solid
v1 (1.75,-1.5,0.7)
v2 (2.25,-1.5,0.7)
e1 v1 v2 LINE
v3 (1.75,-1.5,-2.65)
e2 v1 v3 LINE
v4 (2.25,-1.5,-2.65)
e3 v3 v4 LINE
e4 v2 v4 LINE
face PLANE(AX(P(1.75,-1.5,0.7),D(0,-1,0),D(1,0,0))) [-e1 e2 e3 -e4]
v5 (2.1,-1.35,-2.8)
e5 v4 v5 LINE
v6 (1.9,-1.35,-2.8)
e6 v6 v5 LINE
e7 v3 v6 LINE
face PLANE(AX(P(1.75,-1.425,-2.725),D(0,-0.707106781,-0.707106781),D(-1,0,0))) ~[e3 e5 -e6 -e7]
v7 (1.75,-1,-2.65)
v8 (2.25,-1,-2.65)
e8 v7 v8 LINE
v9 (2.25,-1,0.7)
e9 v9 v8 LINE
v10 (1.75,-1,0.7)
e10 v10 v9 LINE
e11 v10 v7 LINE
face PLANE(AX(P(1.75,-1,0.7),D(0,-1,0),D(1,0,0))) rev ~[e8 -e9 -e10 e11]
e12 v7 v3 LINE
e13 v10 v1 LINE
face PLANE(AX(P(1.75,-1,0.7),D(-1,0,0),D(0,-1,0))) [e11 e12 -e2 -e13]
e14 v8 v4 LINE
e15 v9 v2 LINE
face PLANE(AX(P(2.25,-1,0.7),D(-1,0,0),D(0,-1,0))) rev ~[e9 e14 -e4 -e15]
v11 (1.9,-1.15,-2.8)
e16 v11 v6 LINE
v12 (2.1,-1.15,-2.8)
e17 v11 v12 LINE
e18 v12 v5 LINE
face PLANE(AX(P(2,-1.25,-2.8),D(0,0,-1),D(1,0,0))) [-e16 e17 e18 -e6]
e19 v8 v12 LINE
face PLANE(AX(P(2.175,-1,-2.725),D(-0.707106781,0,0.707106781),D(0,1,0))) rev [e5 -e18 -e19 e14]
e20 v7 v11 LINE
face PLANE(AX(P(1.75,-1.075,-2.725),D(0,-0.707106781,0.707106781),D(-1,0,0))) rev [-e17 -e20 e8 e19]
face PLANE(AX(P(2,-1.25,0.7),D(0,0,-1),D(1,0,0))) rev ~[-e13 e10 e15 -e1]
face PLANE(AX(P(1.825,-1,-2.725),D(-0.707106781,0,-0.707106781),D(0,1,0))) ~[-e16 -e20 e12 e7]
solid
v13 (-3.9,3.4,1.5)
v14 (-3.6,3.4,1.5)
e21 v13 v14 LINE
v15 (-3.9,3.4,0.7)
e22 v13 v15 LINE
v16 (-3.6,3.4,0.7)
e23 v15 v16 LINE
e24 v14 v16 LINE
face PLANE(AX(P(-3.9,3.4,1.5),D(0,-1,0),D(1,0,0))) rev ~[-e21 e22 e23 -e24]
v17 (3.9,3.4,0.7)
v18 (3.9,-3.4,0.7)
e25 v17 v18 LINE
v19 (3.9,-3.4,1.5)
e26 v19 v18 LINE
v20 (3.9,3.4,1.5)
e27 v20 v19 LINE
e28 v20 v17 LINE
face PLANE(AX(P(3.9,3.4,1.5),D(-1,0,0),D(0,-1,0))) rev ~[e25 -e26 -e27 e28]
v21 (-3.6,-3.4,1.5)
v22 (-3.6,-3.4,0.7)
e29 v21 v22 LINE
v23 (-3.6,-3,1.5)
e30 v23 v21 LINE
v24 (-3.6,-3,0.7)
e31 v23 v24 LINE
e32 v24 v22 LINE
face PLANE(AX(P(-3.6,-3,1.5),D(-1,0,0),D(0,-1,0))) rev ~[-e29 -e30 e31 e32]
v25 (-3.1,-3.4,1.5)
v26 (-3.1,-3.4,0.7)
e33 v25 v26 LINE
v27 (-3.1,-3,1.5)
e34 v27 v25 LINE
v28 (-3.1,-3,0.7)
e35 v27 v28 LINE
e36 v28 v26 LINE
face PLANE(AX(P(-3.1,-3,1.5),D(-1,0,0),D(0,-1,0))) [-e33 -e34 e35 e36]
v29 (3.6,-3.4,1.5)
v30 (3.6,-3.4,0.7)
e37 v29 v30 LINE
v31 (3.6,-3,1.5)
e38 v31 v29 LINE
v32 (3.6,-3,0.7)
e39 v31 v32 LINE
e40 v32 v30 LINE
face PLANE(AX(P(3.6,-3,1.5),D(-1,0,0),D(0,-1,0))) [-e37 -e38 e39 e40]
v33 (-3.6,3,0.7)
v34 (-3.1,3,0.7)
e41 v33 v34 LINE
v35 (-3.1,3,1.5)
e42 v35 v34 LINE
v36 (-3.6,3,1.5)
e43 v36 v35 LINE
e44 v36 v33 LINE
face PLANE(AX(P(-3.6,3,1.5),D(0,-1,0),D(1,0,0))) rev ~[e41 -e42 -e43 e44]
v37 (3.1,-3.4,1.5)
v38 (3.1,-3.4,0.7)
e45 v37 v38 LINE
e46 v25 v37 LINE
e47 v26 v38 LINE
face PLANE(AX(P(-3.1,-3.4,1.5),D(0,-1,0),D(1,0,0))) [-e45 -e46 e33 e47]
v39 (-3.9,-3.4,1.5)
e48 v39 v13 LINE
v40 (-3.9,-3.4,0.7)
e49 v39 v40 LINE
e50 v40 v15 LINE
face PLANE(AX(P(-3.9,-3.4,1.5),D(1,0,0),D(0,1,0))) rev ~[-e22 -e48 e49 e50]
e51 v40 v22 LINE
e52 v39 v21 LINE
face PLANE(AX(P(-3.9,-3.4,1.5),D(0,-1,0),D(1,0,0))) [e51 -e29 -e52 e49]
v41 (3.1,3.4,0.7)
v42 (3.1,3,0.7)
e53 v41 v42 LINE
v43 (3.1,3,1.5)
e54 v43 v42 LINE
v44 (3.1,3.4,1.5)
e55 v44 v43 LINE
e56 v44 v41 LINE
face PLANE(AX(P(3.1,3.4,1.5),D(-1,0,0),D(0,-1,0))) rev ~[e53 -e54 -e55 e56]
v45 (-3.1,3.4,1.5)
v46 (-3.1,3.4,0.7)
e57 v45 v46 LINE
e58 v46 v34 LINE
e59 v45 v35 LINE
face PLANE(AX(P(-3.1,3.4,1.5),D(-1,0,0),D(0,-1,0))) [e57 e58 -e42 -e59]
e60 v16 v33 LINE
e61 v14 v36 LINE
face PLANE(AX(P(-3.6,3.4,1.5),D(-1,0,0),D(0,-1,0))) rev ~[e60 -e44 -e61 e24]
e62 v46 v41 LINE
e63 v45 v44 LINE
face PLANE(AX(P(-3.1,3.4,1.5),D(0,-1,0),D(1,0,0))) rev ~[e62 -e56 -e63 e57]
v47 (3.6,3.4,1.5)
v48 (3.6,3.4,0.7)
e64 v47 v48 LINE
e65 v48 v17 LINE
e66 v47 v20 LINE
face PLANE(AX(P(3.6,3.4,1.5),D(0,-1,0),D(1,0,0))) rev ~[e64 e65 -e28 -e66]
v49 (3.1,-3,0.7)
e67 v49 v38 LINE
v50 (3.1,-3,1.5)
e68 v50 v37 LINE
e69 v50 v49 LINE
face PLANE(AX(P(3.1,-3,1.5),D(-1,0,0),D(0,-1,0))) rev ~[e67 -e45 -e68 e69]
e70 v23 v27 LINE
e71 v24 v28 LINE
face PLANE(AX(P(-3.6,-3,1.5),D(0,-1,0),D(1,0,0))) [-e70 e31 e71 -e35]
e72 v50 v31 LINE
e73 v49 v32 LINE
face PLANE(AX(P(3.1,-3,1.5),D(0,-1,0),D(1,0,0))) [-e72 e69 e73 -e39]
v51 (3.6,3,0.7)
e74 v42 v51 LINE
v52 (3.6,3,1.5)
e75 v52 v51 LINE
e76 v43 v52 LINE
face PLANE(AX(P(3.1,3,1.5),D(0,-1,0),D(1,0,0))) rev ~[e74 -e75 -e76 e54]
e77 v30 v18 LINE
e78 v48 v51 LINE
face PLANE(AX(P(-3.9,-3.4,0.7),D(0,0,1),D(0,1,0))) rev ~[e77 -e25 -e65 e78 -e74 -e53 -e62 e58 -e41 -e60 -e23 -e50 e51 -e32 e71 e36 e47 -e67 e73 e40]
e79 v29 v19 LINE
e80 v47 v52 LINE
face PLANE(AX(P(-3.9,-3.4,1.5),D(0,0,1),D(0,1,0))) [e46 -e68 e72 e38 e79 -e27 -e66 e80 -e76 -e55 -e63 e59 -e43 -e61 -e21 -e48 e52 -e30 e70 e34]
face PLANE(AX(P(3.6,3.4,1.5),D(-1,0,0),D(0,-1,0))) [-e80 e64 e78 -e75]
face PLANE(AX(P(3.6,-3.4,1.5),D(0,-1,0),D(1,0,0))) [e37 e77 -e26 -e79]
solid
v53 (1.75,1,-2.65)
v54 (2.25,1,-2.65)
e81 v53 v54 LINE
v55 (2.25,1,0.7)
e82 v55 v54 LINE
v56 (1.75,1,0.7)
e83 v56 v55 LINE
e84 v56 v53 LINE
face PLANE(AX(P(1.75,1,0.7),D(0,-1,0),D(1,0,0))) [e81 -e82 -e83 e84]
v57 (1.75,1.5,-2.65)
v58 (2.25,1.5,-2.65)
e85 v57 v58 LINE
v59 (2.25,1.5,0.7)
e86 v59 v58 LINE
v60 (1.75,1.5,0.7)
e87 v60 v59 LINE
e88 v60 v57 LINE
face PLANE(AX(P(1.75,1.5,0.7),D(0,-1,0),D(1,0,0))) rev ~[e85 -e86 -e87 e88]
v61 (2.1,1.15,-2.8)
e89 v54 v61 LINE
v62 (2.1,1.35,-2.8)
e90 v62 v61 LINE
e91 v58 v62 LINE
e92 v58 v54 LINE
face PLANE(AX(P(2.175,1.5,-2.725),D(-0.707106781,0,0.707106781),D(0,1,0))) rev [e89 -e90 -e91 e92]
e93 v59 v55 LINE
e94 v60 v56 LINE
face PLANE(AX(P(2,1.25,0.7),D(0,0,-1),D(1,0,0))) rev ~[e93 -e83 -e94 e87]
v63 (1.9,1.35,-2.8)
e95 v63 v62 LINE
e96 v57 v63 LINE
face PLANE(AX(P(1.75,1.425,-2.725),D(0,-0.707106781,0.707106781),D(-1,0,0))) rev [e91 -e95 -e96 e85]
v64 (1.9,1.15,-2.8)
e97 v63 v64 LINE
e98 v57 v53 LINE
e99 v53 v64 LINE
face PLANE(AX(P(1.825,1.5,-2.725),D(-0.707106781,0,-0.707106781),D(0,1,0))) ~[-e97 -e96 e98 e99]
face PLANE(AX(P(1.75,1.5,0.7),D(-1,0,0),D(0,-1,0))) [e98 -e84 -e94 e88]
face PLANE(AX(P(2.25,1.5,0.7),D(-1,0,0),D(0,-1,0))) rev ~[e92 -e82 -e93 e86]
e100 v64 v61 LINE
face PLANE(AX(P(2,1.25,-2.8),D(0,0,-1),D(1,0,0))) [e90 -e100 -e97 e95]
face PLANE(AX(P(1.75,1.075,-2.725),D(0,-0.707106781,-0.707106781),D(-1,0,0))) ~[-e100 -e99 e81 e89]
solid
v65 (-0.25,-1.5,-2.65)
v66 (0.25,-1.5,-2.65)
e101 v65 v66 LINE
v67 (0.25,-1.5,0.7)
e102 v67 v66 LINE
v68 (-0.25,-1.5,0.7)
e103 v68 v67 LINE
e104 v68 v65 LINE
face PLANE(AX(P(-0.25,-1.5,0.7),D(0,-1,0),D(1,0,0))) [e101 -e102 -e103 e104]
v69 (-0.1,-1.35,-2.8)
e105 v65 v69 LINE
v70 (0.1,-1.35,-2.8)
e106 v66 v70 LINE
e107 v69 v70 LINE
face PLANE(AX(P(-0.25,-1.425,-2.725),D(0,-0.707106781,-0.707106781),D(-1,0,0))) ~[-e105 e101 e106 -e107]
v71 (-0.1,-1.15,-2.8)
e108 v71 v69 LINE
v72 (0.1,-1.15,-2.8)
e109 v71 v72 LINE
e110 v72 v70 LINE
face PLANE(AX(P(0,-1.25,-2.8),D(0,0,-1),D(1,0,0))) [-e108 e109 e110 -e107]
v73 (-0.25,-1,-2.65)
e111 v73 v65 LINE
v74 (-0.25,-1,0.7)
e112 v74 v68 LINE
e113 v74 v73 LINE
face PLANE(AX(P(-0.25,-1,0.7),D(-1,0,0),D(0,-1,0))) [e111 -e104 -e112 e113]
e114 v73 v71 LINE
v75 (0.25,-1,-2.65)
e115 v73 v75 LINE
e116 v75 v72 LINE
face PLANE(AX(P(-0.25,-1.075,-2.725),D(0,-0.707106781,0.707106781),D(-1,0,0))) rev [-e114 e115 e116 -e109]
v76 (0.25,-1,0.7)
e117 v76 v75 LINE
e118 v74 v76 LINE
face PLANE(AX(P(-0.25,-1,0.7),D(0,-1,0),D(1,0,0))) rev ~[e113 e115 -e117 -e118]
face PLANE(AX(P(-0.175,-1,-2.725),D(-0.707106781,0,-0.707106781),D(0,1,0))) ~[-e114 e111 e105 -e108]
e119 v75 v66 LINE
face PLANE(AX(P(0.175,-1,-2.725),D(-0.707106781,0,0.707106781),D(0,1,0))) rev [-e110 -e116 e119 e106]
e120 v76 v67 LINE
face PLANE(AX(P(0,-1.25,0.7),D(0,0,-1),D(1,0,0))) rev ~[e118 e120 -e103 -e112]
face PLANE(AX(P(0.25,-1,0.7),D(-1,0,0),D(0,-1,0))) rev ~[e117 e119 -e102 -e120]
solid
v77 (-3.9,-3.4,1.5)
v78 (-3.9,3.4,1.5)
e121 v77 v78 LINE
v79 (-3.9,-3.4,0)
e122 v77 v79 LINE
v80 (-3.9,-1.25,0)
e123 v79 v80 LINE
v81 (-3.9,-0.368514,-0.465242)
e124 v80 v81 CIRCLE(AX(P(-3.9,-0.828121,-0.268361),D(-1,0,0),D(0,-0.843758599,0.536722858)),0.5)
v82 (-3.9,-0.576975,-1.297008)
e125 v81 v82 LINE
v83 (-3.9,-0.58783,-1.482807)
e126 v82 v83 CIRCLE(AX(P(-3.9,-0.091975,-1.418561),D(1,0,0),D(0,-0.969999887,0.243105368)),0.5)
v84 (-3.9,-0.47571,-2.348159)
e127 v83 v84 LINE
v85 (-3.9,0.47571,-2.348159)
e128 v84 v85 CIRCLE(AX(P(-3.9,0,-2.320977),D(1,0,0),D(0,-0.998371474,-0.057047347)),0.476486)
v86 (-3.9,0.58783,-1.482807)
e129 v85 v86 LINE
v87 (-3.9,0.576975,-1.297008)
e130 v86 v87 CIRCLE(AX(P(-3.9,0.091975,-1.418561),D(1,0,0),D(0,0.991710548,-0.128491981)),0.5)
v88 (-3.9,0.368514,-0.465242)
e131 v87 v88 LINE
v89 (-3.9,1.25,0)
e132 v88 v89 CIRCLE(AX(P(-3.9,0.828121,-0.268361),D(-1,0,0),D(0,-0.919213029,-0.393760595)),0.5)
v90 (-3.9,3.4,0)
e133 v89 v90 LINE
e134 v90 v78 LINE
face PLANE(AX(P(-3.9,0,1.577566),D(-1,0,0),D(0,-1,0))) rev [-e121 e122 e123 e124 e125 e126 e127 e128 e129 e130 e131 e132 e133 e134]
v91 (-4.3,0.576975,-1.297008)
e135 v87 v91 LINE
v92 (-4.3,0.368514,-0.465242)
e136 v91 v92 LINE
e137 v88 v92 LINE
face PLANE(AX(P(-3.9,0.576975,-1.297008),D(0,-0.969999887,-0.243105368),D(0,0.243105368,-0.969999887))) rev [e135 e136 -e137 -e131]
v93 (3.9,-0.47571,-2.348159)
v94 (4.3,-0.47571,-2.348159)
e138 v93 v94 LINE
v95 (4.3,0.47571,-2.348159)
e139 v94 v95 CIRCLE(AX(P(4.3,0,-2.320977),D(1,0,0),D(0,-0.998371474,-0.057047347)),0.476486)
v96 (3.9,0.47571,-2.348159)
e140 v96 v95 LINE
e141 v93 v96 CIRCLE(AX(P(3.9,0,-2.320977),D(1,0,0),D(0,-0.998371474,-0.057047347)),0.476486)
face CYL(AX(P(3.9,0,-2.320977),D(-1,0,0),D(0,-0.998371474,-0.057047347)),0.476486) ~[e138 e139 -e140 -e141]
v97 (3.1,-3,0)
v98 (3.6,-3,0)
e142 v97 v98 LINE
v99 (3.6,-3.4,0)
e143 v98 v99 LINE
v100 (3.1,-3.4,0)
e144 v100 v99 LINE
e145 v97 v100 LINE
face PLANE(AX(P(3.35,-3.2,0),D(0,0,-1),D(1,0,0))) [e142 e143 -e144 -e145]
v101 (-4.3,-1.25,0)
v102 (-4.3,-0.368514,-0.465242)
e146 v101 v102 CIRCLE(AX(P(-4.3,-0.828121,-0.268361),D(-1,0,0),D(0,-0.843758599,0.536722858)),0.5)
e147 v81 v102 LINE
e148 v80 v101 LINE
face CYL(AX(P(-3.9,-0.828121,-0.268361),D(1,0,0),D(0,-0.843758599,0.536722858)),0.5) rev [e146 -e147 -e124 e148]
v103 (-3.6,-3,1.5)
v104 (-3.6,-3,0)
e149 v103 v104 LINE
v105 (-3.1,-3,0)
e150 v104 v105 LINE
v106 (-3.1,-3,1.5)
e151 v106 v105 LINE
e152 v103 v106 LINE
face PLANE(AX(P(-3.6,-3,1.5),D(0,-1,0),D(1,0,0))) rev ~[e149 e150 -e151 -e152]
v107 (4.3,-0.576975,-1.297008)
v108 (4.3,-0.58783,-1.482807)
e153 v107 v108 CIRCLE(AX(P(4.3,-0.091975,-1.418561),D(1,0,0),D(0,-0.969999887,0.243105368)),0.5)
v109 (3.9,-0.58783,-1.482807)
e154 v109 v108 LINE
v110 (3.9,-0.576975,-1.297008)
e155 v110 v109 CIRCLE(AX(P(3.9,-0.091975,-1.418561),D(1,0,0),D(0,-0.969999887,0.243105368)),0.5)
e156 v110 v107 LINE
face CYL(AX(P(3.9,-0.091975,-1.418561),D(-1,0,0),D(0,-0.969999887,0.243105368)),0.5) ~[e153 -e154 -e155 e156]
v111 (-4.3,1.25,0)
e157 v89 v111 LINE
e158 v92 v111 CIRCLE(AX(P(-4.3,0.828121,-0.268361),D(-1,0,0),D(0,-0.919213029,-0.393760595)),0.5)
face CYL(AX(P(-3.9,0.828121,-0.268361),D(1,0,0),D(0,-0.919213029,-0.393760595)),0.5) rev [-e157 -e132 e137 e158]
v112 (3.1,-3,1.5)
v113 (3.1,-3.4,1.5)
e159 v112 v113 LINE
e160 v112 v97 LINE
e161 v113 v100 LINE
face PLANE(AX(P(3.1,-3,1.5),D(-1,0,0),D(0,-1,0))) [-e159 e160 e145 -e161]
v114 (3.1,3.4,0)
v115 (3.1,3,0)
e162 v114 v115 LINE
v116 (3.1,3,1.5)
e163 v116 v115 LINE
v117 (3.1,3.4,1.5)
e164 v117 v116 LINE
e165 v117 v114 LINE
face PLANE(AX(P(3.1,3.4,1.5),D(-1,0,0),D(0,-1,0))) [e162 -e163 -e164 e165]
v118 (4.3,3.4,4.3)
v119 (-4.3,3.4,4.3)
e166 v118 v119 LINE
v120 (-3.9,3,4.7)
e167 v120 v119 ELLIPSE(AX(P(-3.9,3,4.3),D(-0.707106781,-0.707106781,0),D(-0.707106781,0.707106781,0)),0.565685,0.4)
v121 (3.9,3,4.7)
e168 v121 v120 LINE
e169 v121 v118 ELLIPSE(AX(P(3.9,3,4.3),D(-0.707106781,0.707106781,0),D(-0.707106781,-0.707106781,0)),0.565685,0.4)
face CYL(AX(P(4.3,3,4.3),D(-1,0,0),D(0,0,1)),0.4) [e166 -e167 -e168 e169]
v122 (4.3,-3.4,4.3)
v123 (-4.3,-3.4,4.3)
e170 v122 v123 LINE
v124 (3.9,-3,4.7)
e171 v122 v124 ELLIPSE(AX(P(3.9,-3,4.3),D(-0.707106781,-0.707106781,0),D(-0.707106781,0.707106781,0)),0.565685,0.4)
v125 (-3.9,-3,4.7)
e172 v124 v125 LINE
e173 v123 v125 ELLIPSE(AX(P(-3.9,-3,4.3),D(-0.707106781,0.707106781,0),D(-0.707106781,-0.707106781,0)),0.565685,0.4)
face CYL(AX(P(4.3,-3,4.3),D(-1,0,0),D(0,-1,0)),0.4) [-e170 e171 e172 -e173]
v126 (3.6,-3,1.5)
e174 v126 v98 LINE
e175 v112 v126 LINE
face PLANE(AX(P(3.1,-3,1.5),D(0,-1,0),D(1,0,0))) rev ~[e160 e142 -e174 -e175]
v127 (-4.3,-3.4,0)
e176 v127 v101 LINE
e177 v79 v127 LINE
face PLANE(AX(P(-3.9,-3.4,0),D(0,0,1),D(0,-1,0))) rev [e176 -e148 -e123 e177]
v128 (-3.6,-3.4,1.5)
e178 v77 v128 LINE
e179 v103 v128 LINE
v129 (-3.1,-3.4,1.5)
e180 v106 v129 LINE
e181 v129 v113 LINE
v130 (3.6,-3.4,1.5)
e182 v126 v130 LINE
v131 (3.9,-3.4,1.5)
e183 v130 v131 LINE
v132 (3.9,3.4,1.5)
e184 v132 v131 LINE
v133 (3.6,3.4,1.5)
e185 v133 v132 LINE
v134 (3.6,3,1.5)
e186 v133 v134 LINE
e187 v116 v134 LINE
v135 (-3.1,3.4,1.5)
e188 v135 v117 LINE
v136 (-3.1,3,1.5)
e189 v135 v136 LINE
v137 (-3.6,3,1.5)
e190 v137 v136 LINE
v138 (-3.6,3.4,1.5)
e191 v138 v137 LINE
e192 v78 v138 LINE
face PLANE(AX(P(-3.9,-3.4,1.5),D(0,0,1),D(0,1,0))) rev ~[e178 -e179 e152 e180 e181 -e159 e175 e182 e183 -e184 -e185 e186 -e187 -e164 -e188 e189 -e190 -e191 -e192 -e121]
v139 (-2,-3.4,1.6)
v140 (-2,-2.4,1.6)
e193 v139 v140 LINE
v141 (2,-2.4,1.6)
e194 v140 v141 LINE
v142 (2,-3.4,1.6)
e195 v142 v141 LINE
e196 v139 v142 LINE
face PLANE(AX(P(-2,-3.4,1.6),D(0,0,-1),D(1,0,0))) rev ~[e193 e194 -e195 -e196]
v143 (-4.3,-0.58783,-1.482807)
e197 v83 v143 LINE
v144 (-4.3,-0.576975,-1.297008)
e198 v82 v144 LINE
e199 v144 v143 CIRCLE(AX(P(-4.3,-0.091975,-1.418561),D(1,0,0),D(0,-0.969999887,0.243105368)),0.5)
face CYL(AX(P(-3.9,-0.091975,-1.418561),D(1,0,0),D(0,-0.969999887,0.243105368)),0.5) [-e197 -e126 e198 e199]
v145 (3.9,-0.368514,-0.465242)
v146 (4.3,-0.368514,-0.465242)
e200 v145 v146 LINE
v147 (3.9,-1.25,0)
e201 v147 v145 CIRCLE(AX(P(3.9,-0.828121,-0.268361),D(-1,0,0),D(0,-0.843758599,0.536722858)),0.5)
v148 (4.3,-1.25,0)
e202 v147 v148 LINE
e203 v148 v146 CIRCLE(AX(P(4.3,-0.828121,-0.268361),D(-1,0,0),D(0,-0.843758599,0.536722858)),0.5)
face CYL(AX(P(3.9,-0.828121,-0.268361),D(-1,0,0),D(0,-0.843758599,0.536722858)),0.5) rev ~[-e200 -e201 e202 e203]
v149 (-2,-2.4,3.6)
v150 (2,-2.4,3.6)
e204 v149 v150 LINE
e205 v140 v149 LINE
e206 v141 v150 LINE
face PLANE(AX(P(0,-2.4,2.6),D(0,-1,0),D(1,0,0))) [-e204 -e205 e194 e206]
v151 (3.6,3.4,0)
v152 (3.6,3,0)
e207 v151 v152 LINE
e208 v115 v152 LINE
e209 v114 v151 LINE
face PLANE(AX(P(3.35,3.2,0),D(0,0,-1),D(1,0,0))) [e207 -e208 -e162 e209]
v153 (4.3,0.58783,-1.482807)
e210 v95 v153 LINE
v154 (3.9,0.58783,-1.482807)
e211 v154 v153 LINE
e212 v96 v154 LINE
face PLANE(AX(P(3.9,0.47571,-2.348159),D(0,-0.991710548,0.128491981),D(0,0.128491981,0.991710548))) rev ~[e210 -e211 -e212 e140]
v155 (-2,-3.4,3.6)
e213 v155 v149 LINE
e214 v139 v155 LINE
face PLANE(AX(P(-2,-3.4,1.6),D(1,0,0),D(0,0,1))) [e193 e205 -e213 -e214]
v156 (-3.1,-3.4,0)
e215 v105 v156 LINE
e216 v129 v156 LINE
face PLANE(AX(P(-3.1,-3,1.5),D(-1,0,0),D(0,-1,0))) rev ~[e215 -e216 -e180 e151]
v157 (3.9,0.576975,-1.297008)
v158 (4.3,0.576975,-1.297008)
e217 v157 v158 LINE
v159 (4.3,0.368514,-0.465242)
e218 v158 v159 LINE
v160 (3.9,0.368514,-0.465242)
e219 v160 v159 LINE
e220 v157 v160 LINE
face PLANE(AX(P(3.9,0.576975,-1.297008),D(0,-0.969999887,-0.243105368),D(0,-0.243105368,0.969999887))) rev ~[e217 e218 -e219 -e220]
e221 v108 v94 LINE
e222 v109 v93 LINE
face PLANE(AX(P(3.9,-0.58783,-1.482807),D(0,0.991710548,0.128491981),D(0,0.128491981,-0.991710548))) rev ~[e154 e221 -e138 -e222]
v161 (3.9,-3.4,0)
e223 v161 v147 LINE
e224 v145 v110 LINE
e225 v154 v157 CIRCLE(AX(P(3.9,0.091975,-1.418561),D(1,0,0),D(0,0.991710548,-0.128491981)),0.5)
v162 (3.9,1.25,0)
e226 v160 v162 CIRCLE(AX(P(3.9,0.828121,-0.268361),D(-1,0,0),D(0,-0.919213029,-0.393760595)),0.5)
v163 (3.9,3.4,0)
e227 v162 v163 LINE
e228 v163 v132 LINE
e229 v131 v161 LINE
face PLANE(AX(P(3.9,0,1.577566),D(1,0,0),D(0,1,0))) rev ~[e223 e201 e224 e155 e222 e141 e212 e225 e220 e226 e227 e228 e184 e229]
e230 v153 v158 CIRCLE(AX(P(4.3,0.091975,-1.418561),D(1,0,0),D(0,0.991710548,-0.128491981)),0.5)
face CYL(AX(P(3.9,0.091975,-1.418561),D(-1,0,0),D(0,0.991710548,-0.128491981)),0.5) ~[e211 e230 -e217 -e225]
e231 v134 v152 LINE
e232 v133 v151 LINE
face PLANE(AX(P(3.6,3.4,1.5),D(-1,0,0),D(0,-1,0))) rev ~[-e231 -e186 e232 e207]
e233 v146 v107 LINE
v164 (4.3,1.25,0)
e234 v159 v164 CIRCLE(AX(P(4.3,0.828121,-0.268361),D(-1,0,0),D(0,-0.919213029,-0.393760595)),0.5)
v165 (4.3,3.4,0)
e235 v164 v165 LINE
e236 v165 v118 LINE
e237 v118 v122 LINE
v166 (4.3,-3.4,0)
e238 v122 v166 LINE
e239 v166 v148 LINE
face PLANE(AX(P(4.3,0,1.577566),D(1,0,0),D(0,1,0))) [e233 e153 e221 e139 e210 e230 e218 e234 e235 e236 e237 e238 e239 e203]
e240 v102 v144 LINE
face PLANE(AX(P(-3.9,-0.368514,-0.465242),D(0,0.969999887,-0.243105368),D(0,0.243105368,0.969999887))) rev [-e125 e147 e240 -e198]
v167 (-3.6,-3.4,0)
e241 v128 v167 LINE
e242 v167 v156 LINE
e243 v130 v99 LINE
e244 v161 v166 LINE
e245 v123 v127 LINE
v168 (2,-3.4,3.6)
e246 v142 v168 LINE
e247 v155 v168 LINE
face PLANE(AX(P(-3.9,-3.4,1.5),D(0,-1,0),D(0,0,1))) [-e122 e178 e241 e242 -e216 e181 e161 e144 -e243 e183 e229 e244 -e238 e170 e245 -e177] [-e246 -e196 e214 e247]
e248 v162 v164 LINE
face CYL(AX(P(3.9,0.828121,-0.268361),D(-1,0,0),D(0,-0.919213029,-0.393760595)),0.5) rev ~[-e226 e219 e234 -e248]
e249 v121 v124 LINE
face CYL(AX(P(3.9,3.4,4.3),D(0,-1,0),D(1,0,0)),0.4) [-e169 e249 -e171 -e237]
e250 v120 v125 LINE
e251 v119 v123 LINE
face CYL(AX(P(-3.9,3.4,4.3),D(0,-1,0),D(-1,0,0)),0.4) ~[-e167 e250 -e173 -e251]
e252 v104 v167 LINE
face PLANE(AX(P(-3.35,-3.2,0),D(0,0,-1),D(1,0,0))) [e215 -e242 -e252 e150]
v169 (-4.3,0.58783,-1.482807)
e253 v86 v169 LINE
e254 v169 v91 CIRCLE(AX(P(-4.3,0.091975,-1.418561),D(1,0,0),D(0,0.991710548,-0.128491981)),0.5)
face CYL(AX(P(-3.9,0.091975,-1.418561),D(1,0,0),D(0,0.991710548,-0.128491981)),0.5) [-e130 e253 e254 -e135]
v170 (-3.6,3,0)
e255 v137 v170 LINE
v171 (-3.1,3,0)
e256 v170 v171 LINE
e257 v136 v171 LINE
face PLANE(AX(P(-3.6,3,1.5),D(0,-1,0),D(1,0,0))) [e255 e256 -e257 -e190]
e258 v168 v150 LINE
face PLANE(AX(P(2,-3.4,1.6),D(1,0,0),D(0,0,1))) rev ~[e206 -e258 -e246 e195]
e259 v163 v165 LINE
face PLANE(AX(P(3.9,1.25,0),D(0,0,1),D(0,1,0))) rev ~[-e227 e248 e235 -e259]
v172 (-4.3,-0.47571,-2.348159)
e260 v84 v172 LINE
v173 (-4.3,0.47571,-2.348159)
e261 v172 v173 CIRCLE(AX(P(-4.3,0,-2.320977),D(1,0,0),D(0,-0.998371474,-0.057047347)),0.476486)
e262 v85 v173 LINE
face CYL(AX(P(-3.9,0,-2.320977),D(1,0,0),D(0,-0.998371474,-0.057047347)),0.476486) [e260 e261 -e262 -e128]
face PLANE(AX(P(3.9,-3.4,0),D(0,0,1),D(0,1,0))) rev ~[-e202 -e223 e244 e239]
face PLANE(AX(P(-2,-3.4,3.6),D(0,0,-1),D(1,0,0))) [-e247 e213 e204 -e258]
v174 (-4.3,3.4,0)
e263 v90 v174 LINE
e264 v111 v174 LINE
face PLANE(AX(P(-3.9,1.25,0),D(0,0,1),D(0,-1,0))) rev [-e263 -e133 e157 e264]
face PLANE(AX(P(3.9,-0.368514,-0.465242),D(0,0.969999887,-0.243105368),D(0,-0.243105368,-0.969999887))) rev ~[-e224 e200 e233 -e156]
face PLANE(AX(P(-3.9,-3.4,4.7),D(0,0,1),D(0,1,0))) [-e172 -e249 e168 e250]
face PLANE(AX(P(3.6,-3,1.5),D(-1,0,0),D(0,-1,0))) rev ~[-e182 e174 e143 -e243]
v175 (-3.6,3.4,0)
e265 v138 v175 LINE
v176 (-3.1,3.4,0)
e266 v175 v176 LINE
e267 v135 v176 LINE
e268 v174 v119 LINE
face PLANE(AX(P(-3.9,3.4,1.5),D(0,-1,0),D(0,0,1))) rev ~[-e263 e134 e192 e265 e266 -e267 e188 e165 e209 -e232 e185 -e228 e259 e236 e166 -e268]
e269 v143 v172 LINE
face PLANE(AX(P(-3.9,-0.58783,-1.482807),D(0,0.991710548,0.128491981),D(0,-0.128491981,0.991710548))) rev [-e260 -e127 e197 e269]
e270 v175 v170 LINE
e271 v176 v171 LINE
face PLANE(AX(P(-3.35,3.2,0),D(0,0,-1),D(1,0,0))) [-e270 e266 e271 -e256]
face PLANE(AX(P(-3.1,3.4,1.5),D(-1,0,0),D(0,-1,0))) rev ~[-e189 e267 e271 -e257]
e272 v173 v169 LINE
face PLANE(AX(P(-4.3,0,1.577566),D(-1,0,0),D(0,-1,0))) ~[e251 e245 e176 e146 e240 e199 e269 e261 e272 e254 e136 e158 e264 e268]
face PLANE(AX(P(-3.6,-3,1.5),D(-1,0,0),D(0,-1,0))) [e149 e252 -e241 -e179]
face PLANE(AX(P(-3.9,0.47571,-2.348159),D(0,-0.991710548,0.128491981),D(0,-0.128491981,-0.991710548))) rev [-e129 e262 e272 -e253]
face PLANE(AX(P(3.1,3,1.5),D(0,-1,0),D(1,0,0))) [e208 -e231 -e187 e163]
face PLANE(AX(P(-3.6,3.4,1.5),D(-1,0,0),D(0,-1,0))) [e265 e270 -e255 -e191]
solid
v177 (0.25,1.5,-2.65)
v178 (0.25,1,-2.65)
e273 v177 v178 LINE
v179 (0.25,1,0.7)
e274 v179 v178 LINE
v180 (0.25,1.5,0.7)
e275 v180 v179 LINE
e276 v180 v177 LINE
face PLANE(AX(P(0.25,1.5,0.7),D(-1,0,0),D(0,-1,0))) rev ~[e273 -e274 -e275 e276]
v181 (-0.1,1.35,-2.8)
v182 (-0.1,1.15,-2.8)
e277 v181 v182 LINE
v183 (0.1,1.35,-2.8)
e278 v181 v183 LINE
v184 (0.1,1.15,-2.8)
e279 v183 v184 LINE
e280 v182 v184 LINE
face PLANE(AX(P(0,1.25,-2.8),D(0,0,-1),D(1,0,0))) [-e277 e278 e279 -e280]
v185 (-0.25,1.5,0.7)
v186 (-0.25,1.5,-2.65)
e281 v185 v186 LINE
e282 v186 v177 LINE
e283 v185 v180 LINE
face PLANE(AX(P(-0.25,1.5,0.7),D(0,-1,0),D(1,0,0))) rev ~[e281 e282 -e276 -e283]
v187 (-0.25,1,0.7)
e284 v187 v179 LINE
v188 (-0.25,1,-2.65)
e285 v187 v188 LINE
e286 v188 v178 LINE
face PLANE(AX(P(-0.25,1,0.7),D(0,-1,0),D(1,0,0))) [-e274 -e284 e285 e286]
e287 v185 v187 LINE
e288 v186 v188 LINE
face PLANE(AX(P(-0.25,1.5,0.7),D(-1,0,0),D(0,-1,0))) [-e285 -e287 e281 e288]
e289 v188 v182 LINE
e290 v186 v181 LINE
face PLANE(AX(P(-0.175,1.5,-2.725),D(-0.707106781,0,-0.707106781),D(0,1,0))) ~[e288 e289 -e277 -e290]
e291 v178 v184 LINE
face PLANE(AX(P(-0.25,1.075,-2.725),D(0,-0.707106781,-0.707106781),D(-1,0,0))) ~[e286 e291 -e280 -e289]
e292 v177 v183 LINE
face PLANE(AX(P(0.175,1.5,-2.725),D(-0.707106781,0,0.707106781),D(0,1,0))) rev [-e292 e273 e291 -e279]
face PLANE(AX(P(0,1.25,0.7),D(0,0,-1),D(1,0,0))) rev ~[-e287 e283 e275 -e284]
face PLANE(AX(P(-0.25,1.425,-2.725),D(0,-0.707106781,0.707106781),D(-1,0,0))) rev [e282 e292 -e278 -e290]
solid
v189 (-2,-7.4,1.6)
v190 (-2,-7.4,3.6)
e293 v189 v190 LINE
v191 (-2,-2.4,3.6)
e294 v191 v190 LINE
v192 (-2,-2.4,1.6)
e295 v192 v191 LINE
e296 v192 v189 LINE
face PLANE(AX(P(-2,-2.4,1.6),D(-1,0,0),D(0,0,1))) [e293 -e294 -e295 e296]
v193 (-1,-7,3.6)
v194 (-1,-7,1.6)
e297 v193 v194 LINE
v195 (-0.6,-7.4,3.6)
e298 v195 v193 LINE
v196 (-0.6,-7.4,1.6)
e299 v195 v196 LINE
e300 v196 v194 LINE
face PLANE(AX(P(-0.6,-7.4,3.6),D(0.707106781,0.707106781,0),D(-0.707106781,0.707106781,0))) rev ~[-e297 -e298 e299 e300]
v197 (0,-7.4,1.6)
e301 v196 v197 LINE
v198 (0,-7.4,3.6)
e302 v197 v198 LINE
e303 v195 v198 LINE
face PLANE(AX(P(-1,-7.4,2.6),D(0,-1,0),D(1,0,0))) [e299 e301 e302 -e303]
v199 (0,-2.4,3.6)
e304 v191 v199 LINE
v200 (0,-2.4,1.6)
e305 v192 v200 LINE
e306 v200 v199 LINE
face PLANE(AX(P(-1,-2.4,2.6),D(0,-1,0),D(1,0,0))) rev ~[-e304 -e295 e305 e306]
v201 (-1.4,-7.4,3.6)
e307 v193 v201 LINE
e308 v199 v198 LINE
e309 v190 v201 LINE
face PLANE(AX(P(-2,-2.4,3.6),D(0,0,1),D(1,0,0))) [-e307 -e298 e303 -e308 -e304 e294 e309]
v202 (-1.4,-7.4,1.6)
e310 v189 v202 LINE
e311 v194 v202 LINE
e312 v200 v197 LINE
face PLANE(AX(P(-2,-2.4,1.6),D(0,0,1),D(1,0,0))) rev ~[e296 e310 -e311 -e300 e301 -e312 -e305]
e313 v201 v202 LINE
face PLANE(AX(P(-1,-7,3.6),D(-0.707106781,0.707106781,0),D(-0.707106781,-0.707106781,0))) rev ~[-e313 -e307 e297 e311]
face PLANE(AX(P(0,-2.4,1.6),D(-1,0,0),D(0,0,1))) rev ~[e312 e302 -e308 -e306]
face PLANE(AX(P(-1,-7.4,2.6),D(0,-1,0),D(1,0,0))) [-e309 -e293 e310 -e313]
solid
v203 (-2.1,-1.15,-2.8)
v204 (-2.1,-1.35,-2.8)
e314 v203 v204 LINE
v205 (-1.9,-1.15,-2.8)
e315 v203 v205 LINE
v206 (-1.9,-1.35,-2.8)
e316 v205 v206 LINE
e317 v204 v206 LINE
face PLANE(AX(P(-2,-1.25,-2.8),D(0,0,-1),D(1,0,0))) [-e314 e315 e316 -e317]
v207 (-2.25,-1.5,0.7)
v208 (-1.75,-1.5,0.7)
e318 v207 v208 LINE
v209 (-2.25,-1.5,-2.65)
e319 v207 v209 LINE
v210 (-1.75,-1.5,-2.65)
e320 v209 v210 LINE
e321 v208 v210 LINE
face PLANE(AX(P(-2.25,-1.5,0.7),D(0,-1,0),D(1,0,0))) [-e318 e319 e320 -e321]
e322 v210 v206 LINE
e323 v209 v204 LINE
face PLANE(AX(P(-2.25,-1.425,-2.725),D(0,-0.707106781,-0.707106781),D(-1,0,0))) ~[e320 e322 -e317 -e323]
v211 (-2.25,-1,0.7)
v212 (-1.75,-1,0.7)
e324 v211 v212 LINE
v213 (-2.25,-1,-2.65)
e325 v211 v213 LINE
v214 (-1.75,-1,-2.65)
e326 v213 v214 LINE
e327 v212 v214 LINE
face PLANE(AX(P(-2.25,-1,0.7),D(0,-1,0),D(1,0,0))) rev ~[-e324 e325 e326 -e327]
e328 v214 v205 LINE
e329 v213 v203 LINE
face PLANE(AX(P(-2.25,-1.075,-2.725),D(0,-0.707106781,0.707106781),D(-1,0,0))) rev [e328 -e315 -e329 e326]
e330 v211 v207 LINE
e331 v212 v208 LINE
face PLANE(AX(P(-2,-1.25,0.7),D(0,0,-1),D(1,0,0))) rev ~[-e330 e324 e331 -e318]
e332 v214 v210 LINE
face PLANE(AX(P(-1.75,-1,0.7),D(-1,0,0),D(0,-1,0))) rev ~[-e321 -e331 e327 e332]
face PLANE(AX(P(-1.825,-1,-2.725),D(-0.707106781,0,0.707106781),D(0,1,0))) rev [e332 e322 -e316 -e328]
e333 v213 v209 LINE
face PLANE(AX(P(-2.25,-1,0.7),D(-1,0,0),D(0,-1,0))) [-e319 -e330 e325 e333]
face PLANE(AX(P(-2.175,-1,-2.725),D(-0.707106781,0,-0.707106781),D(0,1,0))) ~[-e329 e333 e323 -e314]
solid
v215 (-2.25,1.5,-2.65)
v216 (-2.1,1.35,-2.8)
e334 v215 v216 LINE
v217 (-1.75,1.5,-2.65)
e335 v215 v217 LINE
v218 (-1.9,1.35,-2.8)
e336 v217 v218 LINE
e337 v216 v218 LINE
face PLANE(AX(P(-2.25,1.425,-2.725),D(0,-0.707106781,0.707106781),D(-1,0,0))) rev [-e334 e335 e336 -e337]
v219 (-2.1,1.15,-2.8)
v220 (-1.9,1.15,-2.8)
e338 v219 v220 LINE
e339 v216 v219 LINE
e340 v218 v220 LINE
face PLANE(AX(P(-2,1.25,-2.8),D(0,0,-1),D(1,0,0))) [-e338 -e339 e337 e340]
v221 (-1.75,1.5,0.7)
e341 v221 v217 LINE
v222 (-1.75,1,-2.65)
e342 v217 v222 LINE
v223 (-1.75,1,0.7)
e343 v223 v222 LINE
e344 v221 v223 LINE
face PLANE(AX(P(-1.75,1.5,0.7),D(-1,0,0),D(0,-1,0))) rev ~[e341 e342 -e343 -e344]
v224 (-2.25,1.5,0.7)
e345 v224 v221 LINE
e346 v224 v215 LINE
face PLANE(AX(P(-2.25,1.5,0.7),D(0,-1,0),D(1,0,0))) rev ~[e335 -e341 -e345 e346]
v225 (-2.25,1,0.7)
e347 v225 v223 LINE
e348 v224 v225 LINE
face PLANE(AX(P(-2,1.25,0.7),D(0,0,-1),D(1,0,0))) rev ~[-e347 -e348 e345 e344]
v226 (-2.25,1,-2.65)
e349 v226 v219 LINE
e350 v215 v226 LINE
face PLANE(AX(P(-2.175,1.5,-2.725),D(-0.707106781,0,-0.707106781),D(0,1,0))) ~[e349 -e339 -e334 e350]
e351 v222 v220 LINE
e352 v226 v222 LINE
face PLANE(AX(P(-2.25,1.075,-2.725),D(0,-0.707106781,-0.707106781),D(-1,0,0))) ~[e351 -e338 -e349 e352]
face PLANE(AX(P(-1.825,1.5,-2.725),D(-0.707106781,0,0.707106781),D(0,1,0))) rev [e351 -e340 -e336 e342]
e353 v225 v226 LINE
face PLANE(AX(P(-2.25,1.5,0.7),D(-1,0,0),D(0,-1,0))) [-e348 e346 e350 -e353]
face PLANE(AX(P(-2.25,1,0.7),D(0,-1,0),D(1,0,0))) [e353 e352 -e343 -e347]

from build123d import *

# Parameters (mm, degrees)
F1_START   = 3.9
F1_DEPTH   = 0.4
F3_W       = 6.8
F3_H       = 3.2
F4_DEPTH   = 8
F5_W       = 0.5
F5_H       = 0.4
F6_DEPTH   = 1.5
F7_DEPTH   = 0.8
F8_R       = 0.4
F9_W       = 4
F9_H       = 2
F10_DEPTH  = 1
F11_W      = 2
F11_H      = 2
F12_DEPTH  = 5
F14_DEPTH  = 25
F15_W      = 0.5
F15_H      = 0.5
F16_DEPTH  = 3.5
F17_SIZE   = 0.15
F17_2_SIZE = 0.15
F17_3_SIZE = 0.15
F17_4_SIZE = 0.15
F17_5_SIZE = 0.15
F17_6_SIZE = 0.15


with BuildPart() as f1:
    # F0 (on Right) → F1 (new body)
    with BuildSketch(Plane.YZ.offset(F1_START)):
        with BuildLine():
            Line((-3.4, 4.7), (-3.4, 0))
            Line((-3.4, 0), (-1.25, 0))
            ThreePointArc((-1.25, 0), (-0.5947362498, 0.1738282345), (-0.3685141855, -0.4652417265))
            Line((-0.3685141855, -0.4652417265), (-0.5769748612, -1.297007943))
            ThreePointArc((-0.5769748612, -1.297007943), (-0.5911237195, -1.3893977424), (-0.5878301918, -1.4828066172))
            Line((-0.5878301918, -1.4828066172), (-0.4757099377, -2.3481589742))
            ThreePointArc((-0.4757099377, -2.3481589742), (0, -2.7974626246), (0.4757099377, -2.3481589742))
            Line((0.4757099377, -2.3481589742), (0.5878301918, -1.4828066172))
            ThreePointArc((0.5878301918, -1.4828066172), (0.5911237195, -1.3893977424), (0.5769748612, -1.297007943))
            Line((0.5769748612, -1.297007943), (0.3685141855, -0.4652417265))
            ThreePointArc((0.3685141855, -0.4652417265), (0.5947362498, 0.1738282345), (1.25, 0))
            Line((1.25, 0), (3.4, 0))
            Line((3.4, 0), (3.4, 4.7))
            Line((3.4, 4.7), (-3.4, 4.7))
        make_face()
    extrude(amount=F1_DEPTH)


with BuildPart() as f2_1:
    # F2: instance of F1
    add(f1.part.mirror(Plane.YZ))


with BuildPart() as f1_1:
    add(f1.part)

    add(f2_1.part)  # F4 merges F2_1
    # F3 (on face) → F4 (join)
    with BuildSketch(Plane.YZ.offset(-3.9)):
        with Locations((0, 3.1)):
            Rectangle(F3_W, F3_H)
    extrude(amount=F4_DEPTH)

    # F5 (on face) → F6 (join)
    with BuildSketch(Plane(origin=(0, 0, 1.5), x_dir=(1, 0, 0), z_dir=(0, 0, -1))):
        with Locations((3.35, 3.2)):
            Rectangle(F5_W, F5_H)
        with Locations((3.35, -3.2)):
            Rectangle(F5_W, F5_H)
        with Locations((-3.35, 3.2)):
            Rectangle(F5_W, F5_H)
        with Locations((-3.35, -3.2)):
            Rectangle(F5_W, F5_H)
    extrude(amount=F6_DEPTH)


with BuildPart() as f7:
    # F7 (new): a face of the model
    f7_faces = [f1_1.part.faces().sort_by_distance(p)[0] for p in [
        (0, 0, 1.5),
    ]]
    extrude(f7_faces, amount=F7_DEPTH)


with BuildPart() as f1_2:
    add(f1_1.part)

    # F8
    f8_edges = [f1_2.edges().sort_by_distance(p)[0] for p in [
        (0, 3.4, 4.7),
        (-4.3, 0, 4.7),
        (0, -3.4, 4.7),
        (4.3, 0, 4.7),
    ]]
    fillet(f8_edges, radius=F8_R)

    # F9 (on face) → F10 (cut)
    with BuildSketch(Plane.XZ.offset(3.4)):
        with Locations((0, 2.6)):
            Rectangle(F9_W, F9_H)
    extrude(amount=-F10_DEPTH, mode=Mode.SUBTRACT)


with BuildPart() as f12:
    # F11 (on face) → F12 (new body)
    with BuildSketch(Plane.XZ.offset(2.4)):
        with Locations((-1, 2.6)):
            Rectangle(F11_W, F11_H)
    extrude(amount=F12_DEPTH)

    # F13 (on face) → F14 (cut)
    with BuildSketch(Plane.XY.offset(3.6)):
        Polygon((-1, -7), (-1.4, -7.4), (-0.6, -7.4), align=None)
    extrude(amount=-F14_DEPTH, mode=Mode.SUBTRACT)


with BuildPart() as f16:
    # F15 (on face) → F16 (new body)
    with BuildSketch(Plane(origin=(0, 0, 0.7), x_dir=(1, 0, 0), z_dir=(0, 0, -1))):
        with Locations((-2, 1.25)):
            Rectangle(F15_W, F15_H)
    extrude(amount=F16_DEPTH)

    # F17
    f17_edges = [f16.edges().sort_by_distance(p)[0] for p in [
        (-1.75, -1.25, -2.8),
        (-2, -1.5, -2.8),
        (-2.25, -1.25, -2.8),
        (-2, -1, -2.8),
    ]]
    chamfer(f17_edges, length=F17_SIZE)


with BuildPart() as f16b:
    # F15 (on face) → F16, piece 2 (new body)
    with BuildSketch(Plane(origin=(0, 0, 0.7), x_dir=(1, 0, 0), z_dir=(0, 0, -1))):
        with Locations((0, 1.25)):
            Rectangle(F15_W, F15_H)
    extrude(amount=F16_DEPTH)

    # F17#2
    f17_2_edges = [f16b.edges().sort_by_distance(p)[0] for p in [
        (0, -1.5, -2.8),
        (-0.25, -1.25, -2.8),
        (0, -1, -2.8),
        (0.25, -1.25, -2.8),
    ]]
    chamfer(f17_2_edges, length=F17_2_SIZE)


with BuildPart() as f16c:
    # F15 (on face) → F16, piece 3 (new body)
    with BuildSketch(Plane(origin=(0, 0, 0.7), x_dir=(1, 0, 0), z_dir=(0, 0, -1))):
        with Locations((2, -1.25)):
            Rectangle(F15_W, F15_H)
    extrude(amount=F16_DEPTH)

    # F17#4
    f17_4_edges = [f16c.edges().sort_by_distance(p)[0] for p in [
        (2, 1.5, -2.8),
        (2.25, 1.25, -2.8),
        (2, 1, -2.8),
        (1.75, 1.25, -2.8),
    ]]
    chamfer(f17_4_edges, length=F17_4_SIZE)


with BuildPart() as f16d:
    # F15 (on face) → F16, piece 4 (new body)
    with BuildSketch(Plane(origin=(0, 0, 0.7), x_dir=(1, 0, 0), z_dir=(0, 0, -1))):
        with Locations((0, -1.25)):
            Rectangle(F15_W, F15_H)
    extrude(amount=F16_DEPTH)

    # F17#5
    f17_5_edges = [f16d.edges().sort_by_distance(p)[0] for p in [
        (0, 1, -2.8),
        (-0.25, 1.25, -2.8),
        (0, 1.5, -2.8),
        (0.25, 1.25, -2.8),
    ]]
    chamfer(f17_5_edges, length=F17_5_SIZE)


with BuildPart() as f16e:
    # F15 (on face) → F16, piece 5 (new body)
    with BuildSketch(Plane(origin=(0, 0, 0.7), x_dir=(1, 0, 0), z_dir=(0, 0, -1))):
        with Locations((-2, -1.25)):
            Rectangle(F15_W, F15_H)
    extrude(amount=F16_DEPTH)

    # F17#6
    f17_6_edges = [f16e.edges().sort_by_distance(p)[0] for p in [
        (-2.25, 1.25, -2.8),
        (-2, 1.5, -2.8),
        (-1.75, 1.25, -2.8),
        (-2, 1, -2.8),
    ]]
    chamfer(f17_6_edges, length=F17_6_SIZE)


with BuildPart() as f16f:
    # F15 (on face) → F16, piece 6 (new body)
    with BuildSketch(Plane(origin=(0, 0, 0.7), x_dir=(1, 0, 0), z_dir=(0, 0, -1))):
        with Locations((2, 1.25)):
            Rectangle(F15_W, F15_H)
    extrude(amount=F16_DEPTH)

    # F17#3
    f17_3_edges = [f16f.edges().sort_by_distance(p)[0] for p in [
        (2, -1.5, -2.8),
        (1.75, -1.25, -2.8),
        (2, -1, -2.8),
        (2.25, -1.25, -2.8),
    ]]
    chamfer(f17_3_edges, length=F17_3_SIZE)


solid = Compound([f7.part, f1_2.part, f12.part, f16.part, f16b.part, f16c.part, f16d.part, f16e.part, f16f.part])
